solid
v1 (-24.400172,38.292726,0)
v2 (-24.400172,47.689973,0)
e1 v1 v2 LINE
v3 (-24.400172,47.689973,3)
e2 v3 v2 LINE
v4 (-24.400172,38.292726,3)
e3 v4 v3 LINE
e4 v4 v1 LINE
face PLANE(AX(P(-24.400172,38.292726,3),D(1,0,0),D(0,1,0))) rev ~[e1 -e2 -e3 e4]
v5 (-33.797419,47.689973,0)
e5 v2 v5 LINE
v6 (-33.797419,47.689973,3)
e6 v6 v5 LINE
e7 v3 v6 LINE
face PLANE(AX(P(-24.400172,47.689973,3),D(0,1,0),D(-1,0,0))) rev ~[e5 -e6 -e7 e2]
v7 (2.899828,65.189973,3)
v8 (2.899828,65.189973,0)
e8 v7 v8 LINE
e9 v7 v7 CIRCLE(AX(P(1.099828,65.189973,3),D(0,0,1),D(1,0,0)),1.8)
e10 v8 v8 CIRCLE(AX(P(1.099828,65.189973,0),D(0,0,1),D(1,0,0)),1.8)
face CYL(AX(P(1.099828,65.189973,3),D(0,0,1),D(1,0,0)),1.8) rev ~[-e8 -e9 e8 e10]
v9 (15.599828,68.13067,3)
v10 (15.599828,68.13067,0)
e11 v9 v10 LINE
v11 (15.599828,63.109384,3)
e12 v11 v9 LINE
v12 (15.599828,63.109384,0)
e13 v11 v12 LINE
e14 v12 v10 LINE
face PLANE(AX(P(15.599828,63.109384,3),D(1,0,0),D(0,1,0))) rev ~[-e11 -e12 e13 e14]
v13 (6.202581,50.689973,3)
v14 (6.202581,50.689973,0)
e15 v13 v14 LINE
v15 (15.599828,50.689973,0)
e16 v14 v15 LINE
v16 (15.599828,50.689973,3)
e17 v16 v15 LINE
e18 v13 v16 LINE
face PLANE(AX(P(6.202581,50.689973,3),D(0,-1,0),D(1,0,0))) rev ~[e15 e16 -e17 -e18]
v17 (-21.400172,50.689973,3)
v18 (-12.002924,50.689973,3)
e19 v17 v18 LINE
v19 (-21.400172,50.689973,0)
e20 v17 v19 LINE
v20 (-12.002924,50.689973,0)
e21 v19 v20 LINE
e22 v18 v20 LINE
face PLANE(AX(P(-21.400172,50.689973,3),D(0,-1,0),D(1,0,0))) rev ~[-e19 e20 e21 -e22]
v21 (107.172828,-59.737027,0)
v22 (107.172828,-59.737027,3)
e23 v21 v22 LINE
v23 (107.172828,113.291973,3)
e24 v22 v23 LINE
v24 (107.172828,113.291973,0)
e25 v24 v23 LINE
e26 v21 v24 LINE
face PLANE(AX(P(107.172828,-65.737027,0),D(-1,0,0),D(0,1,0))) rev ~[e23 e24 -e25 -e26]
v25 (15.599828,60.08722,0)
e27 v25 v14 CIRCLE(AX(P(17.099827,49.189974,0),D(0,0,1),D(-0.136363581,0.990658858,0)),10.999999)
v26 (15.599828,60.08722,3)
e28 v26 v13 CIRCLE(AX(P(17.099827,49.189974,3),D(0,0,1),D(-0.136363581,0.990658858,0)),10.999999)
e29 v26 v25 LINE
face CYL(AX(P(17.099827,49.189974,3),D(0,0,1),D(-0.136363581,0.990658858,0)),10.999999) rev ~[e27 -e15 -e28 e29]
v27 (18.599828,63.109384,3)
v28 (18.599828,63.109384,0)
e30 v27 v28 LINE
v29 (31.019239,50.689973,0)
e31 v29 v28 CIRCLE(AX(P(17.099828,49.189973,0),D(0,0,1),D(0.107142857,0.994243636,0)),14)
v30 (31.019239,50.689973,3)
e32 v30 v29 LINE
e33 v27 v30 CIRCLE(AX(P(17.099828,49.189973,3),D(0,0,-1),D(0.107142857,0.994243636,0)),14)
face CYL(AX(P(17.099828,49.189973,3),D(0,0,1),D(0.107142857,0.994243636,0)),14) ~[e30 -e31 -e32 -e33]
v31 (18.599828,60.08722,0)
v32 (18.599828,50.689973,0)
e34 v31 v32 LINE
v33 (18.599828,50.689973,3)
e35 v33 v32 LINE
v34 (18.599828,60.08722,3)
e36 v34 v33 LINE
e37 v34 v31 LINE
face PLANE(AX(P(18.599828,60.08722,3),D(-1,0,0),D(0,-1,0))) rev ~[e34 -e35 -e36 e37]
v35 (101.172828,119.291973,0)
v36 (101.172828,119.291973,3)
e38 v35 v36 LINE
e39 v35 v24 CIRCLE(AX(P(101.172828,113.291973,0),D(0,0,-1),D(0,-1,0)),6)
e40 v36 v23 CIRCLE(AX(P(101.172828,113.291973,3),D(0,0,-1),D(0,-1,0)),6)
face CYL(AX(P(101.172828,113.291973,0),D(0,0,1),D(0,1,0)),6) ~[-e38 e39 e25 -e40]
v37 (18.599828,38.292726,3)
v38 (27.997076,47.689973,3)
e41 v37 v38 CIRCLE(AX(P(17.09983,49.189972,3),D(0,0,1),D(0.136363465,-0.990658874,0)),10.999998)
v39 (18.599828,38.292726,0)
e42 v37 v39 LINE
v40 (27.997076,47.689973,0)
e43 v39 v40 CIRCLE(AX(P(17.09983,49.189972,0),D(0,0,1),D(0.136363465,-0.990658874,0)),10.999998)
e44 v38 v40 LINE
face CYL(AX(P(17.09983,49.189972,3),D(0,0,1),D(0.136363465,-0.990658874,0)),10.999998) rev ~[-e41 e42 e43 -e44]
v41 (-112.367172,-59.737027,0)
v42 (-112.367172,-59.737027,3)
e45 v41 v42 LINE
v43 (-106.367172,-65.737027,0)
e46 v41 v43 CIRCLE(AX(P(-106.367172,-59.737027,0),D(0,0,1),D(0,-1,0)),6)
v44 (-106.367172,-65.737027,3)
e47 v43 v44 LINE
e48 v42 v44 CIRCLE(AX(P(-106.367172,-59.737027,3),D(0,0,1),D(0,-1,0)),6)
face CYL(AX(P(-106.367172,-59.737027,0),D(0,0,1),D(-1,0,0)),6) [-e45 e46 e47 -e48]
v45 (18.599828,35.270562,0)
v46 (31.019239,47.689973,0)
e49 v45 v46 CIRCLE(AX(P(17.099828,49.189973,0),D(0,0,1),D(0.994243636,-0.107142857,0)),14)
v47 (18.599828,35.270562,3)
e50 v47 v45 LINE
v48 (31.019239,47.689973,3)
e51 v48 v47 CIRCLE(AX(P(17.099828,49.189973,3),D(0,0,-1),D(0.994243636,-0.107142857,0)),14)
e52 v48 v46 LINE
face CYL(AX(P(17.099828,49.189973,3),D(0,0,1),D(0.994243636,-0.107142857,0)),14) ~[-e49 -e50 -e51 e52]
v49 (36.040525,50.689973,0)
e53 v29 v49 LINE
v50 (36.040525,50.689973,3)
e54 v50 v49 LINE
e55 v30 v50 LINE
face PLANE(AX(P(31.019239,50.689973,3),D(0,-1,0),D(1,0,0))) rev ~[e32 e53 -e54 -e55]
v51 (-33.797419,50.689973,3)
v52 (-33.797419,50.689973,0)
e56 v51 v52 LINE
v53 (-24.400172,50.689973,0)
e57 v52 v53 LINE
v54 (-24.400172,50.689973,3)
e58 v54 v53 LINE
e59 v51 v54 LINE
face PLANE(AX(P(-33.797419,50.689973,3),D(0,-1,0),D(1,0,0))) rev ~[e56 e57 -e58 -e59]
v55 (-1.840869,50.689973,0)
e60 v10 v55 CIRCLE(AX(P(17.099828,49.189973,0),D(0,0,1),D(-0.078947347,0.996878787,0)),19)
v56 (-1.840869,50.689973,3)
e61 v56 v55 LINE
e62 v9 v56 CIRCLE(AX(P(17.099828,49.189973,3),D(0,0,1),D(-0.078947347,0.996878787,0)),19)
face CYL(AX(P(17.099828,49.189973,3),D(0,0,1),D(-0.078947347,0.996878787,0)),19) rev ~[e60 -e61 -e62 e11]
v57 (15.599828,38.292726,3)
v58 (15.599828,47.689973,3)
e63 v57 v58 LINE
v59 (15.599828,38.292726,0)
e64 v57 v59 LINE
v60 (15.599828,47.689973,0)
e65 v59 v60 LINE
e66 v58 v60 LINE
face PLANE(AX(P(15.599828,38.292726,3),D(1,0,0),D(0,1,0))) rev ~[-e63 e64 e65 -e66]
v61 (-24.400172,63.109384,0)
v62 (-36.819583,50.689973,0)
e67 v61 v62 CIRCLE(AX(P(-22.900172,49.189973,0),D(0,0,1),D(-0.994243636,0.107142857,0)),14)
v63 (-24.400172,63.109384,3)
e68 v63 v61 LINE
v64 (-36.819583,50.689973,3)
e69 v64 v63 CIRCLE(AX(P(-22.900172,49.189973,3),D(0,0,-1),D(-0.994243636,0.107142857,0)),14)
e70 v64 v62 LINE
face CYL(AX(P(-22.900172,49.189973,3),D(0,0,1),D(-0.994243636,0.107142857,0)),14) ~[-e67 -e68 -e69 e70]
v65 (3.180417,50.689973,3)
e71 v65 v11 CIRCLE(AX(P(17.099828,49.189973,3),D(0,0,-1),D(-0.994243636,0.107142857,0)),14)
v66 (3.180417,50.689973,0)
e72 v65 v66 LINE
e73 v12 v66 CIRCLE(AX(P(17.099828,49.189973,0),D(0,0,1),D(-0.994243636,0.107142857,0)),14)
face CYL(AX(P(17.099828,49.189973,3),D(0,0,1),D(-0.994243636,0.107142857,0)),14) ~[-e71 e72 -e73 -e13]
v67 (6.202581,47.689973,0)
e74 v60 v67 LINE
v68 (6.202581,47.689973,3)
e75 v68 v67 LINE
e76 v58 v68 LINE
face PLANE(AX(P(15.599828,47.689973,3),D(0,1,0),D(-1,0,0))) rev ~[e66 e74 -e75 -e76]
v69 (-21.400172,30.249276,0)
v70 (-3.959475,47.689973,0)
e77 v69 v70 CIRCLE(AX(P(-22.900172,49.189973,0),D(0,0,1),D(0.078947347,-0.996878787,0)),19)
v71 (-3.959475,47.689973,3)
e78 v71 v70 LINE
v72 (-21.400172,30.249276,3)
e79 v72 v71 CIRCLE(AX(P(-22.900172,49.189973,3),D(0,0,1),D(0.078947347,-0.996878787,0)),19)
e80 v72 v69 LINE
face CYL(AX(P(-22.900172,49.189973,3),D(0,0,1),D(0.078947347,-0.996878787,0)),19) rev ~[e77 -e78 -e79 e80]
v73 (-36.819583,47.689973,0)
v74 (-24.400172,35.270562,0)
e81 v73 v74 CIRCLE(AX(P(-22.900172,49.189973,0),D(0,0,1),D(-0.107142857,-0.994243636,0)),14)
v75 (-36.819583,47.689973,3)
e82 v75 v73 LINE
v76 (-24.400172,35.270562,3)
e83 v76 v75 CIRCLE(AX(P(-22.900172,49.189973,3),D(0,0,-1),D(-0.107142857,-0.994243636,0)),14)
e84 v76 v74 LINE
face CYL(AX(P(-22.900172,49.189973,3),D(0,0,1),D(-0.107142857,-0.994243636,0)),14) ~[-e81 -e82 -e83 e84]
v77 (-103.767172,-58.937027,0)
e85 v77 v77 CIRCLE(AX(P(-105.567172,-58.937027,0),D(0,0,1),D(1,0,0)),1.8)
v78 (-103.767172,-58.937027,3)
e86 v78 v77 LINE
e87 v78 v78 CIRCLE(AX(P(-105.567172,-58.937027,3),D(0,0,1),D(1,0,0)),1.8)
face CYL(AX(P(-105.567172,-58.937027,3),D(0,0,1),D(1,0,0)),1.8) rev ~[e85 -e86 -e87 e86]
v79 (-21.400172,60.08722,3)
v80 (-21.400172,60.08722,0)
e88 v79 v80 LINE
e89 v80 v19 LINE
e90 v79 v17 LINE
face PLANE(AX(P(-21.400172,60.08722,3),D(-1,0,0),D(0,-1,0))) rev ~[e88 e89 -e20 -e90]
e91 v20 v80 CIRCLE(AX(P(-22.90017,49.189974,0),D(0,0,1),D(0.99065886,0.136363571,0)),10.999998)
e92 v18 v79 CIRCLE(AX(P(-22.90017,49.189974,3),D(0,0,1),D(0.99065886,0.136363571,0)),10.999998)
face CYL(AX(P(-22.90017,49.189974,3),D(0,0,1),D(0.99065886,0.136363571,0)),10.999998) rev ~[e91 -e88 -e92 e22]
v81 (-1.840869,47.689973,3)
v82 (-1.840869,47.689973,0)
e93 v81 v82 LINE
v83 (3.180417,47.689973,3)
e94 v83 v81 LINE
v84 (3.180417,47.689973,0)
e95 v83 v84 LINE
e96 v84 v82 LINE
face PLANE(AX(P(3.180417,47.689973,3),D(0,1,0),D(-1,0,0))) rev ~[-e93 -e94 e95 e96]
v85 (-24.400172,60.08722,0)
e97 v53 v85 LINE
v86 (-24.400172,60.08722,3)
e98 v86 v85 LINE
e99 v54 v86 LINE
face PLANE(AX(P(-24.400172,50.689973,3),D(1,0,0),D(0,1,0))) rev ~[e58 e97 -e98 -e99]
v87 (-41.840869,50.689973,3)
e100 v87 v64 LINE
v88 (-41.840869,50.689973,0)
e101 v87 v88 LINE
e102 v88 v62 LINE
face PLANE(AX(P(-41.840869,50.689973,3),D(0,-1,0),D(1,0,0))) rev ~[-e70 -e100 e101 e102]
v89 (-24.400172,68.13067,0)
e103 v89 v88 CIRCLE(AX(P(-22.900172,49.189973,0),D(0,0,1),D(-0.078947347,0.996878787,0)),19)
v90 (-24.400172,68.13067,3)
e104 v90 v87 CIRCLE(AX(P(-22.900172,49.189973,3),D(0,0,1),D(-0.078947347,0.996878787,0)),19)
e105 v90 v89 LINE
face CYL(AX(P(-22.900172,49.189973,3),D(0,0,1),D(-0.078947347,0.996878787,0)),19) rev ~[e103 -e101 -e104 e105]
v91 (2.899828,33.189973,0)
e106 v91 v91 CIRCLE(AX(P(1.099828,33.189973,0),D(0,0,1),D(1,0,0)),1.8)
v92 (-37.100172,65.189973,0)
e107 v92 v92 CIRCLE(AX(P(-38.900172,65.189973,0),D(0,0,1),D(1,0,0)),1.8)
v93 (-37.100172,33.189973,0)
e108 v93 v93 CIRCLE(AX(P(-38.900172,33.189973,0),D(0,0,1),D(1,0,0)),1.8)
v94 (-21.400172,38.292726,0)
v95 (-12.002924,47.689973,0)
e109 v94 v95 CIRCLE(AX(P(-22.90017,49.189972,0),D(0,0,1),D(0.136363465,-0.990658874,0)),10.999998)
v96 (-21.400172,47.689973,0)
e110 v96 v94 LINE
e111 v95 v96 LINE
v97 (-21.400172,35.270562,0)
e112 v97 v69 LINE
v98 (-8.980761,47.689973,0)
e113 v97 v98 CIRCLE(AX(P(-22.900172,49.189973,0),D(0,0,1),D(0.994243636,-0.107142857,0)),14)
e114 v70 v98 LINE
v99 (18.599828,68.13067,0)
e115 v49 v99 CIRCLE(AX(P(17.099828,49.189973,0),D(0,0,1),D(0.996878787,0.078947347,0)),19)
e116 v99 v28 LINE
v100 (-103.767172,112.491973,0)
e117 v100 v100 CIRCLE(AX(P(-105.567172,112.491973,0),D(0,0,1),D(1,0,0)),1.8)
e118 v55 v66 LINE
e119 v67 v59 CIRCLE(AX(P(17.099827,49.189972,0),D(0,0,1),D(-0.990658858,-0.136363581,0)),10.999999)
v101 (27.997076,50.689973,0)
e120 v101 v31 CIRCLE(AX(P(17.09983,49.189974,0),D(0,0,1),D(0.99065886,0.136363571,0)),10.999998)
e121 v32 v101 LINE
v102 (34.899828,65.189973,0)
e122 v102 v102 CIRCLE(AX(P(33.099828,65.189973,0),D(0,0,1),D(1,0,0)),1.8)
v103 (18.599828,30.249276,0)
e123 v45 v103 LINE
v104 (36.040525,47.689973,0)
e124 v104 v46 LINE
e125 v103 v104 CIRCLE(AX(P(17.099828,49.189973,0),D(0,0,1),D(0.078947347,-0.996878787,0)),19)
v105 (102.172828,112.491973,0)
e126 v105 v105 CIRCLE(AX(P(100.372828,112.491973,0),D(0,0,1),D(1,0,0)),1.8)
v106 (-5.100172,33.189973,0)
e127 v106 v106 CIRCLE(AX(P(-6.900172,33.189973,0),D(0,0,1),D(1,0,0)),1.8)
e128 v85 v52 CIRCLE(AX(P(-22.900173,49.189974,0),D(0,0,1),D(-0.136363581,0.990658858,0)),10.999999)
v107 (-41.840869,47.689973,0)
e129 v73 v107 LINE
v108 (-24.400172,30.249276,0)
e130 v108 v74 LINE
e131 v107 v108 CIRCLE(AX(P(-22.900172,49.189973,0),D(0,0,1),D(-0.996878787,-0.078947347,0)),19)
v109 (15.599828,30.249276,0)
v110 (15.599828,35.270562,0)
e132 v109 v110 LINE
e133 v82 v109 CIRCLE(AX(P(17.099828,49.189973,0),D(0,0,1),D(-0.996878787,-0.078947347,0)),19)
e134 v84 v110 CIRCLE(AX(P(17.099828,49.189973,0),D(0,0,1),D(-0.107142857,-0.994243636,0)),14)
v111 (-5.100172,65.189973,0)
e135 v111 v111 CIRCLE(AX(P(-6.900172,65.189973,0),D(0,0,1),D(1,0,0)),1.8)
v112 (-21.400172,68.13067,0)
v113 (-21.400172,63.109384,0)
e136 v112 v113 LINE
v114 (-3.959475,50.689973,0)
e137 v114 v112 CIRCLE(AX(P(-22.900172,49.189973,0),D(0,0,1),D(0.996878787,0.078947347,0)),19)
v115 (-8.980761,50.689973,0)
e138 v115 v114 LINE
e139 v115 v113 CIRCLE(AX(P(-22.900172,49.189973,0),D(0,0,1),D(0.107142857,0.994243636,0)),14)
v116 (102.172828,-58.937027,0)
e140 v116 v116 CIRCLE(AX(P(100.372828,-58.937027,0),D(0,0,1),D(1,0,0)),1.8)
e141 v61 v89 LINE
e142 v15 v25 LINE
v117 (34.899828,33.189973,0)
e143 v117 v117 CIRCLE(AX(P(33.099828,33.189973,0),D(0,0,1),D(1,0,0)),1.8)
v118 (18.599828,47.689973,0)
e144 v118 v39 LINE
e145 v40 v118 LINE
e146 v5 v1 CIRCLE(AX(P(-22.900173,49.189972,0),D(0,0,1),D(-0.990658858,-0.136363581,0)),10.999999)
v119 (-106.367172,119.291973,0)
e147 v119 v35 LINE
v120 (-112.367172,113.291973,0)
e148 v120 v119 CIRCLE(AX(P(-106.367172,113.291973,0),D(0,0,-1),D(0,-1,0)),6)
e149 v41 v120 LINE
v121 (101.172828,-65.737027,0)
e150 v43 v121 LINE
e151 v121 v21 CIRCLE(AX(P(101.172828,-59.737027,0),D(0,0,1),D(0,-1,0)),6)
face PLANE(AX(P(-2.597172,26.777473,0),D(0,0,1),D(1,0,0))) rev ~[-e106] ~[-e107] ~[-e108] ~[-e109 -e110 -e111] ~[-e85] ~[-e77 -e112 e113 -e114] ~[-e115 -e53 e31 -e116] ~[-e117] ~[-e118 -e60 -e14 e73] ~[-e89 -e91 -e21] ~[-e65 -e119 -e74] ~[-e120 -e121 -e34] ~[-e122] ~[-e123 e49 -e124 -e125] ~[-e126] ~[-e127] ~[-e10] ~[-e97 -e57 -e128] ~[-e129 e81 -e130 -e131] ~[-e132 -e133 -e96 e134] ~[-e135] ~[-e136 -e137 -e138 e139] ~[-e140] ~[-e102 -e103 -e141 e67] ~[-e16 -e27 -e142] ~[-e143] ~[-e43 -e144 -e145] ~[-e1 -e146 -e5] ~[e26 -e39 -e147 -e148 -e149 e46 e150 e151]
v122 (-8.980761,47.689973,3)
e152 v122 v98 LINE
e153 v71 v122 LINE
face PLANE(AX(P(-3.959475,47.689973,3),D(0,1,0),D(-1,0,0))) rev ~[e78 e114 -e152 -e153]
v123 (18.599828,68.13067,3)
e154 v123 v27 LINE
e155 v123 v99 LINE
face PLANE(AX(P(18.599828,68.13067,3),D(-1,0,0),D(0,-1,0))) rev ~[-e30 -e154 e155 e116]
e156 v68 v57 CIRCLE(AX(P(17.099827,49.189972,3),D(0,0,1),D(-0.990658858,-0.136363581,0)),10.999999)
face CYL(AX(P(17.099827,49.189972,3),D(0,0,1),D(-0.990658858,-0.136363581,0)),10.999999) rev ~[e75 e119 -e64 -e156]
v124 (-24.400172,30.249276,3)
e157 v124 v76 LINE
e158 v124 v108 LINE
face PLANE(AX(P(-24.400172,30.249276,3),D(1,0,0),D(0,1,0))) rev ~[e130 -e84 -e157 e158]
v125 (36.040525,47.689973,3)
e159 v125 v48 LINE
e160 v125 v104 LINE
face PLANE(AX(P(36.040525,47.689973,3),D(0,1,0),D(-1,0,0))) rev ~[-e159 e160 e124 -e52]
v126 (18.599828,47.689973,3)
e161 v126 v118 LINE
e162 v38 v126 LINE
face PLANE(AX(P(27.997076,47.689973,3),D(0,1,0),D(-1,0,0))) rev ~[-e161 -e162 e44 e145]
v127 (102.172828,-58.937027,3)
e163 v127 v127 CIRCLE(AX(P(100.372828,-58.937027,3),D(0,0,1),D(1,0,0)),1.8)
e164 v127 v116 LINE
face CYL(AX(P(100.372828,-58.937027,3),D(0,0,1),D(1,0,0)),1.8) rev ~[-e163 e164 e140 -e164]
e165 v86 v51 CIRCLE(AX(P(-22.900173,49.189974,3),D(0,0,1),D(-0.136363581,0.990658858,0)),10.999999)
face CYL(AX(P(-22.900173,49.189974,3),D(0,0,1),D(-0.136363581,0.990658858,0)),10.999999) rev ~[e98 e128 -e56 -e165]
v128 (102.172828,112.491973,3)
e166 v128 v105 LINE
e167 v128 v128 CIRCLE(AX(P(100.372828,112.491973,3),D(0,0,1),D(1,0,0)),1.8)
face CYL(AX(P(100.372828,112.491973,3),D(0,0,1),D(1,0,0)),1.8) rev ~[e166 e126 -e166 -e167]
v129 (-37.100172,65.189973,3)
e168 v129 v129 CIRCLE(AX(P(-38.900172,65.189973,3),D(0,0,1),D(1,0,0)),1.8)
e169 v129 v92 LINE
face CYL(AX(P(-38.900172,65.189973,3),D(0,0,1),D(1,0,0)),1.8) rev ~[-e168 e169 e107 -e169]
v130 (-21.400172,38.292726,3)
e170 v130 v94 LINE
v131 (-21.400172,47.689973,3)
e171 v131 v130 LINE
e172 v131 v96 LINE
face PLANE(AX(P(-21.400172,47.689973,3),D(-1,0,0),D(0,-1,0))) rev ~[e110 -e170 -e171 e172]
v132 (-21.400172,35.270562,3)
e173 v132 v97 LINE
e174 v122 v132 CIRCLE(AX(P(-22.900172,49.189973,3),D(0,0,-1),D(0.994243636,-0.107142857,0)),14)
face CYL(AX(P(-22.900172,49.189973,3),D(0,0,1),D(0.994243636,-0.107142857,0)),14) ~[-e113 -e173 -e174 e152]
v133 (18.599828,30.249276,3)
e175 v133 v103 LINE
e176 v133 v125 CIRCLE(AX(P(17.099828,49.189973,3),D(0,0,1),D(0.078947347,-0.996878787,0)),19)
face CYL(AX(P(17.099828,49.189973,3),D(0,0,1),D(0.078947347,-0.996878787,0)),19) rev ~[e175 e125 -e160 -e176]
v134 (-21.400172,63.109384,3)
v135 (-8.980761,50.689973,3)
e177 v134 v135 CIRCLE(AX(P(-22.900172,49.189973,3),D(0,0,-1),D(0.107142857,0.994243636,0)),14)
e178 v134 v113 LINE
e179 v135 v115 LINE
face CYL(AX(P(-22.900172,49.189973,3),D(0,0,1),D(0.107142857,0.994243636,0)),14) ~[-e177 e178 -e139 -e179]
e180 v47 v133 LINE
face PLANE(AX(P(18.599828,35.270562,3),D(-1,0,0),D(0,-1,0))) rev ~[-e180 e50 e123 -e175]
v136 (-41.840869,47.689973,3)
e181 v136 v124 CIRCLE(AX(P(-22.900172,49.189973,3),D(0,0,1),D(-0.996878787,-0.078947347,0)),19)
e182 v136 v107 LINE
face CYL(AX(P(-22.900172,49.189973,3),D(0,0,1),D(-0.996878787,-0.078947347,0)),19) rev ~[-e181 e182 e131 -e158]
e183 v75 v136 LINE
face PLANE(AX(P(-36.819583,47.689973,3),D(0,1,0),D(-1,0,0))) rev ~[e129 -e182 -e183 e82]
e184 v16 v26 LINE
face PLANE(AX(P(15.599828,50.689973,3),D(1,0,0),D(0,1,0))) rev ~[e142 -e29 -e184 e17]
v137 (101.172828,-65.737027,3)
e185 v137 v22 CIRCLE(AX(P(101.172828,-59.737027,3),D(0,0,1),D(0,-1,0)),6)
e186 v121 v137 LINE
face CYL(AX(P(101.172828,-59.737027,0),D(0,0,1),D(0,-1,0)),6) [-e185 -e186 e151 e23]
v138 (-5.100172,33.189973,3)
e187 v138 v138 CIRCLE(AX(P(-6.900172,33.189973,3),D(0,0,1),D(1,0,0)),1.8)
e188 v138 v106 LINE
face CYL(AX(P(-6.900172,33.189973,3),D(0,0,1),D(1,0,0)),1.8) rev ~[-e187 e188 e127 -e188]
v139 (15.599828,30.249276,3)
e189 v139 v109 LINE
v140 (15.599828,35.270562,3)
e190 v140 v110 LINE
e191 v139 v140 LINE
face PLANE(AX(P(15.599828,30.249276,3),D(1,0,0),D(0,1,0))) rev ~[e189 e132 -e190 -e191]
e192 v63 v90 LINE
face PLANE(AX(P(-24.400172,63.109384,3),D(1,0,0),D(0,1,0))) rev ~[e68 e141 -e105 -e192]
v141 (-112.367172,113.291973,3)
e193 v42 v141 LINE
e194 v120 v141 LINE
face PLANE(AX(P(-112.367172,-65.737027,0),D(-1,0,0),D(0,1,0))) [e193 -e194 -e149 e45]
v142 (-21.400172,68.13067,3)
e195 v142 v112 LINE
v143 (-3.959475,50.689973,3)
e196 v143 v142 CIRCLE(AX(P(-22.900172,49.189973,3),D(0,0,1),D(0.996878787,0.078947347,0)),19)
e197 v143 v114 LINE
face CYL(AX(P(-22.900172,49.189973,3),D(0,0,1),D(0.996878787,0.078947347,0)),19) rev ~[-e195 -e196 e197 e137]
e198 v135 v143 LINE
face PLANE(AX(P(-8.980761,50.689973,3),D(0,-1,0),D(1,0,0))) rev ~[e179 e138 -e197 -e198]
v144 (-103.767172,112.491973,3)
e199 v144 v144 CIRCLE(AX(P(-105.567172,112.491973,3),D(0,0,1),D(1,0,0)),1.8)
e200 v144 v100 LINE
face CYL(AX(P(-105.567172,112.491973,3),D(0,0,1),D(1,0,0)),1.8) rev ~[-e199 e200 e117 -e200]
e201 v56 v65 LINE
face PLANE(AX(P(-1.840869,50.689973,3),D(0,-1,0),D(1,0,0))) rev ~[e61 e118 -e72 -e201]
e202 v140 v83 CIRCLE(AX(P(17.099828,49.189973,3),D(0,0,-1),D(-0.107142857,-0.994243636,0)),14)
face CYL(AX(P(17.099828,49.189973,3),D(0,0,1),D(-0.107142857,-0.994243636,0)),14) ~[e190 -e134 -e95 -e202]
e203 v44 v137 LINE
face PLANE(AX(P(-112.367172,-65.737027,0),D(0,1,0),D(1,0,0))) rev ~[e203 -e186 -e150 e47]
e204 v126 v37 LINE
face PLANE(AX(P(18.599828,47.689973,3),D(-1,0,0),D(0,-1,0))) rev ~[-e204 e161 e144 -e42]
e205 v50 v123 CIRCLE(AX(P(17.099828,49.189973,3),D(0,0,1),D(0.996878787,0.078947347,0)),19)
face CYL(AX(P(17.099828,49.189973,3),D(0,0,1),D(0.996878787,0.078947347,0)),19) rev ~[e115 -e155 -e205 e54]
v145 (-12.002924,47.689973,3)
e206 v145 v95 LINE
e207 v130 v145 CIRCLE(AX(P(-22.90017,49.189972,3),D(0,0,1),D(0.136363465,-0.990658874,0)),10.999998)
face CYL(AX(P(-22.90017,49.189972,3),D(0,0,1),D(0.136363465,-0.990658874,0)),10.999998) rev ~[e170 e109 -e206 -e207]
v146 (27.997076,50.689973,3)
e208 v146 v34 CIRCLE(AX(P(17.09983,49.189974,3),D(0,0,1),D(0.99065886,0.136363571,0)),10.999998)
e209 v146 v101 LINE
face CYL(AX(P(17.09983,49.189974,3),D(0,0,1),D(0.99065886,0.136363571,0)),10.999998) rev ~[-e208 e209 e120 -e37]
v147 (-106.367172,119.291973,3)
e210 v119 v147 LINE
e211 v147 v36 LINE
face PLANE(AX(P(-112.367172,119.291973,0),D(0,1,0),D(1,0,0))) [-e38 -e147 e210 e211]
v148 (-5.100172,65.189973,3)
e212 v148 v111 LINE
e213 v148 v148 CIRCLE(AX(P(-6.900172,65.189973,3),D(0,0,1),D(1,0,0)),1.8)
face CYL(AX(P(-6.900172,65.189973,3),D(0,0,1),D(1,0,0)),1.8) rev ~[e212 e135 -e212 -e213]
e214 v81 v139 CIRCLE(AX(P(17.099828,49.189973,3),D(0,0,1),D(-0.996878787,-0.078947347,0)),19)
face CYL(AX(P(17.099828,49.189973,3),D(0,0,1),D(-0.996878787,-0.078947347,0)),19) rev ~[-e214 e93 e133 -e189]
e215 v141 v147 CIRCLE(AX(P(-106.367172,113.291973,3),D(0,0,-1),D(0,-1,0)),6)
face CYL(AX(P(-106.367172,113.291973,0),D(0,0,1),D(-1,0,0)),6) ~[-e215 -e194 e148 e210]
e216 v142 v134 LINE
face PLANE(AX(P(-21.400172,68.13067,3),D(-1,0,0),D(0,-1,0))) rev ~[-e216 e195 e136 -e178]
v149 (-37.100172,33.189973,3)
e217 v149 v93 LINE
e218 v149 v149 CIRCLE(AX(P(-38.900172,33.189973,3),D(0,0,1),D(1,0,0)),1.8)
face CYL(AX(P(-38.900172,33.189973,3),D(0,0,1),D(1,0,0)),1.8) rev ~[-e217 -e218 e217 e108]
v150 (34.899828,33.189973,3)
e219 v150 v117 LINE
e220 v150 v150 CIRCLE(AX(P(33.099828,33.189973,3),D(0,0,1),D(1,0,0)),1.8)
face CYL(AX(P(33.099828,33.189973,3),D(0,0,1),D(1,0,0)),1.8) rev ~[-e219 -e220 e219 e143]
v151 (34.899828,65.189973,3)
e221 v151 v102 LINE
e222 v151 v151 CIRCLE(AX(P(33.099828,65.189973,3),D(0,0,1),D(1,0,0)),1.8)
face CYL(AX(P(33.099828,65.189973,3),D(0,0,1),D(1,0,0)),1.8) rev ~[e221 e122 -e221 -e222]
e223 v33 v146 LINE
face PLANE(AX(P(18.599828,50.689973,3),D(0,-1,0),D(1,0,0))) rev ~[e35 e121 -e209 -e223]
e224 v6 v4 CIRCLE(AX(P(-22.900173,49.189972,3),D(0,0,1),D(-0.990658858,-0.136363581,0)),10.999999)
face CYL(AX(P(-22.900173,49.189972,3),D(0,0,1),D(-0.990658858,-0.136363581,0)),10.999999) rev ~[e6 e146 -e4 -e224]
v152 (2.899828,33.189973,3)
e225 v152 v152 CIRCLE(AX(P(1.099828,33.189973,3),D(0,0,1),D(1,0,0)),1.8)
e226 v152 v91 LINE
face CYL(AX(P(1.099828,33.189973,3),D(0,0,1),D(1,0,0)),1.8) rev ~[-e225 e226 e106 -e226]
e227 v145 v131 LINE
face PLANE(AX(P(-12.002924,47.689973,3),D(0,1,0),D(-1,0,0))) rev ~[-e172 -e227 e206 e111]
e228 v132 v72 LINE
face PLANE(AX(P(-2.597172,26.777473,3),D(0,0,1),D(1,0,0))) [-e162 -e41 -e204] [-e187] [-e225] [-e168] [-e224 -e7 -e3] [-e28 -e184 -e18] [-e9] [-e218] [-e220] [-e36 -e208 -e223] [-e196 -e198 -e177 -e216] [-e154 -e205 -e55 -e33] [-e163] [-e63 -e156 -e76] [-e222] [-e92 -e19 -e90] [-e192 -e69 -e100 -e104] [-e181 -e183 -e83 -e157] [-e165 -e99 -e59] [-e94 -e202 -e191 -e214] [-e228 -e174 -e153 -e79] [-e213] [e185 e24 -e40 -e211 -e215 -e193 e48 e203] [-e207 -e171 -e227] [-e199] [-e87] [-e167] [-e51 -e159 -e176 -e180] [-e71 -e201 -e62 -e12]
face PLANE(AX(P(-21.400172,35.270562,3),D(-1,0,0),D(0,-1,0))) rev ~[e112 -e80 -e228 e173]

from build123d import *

# Parameters (mm, degrees)
F0_W     = 219.54
F0_H     = 185.029
F1_DEPTH = 3
F2_R     = 1.8
F3_DEPTH = 25
F4_R     = 6


with BuildPart() as f1:
    # F0 (on Top) → F1 (new body)
    with BuildSketch(Plane.XY):
        with Locations((-2.597172, 26.777473)):
            Rectangle(F0_W, F0_H)
    extrude(amount=F1_DEPTH)

    # F2 (on face) → F3 (cut)
    with BuildSketch(Plane.XY.offset(3)):
        with BuildLine():
            Line((-24.400172, 63.109384), (-24.400172, 68.13067))
            ThreePointArc((-24.400172, 68.13067), (-36.335201, 62.625002), (-41.840869, 50.689973))
            Line((-41.840869, 50.689973), (-36.819583, 50.689973))
            ThreePointArc((-36.819583, 50.689973), (-32.799667, 59.089468), (-24.400172, 63.109384))
        make_face()
        with BuildLine():
            ThreePointArc((-41.840869, 47.689973), (-36.335201, 35.754944), (-24.400172, 30.249276))
            Line((-24.400172, 30.249276), (-24.400172, 35.270562))
            ThreePointArc((-24.400172, 35.270562), (-32.799667, 39.290478), (-36.819583, 47.689973))
            Line((-36.819583, 47.689973), (-41.840869, 47.689973))
        make_face()
        with BuildLine():
            ThreePointArc((-21.400172, 30.249276), (-9.465143, 35.754944), (-3.959475, 47.689973))
            Line((-3.959475, 47.689973), (-8.980761, 47.689973))
            ThreePointArc((-8.980761, 47.689973), (-13.000677, 39.290478), (-21.400172, 35.270562))
            Line((-21.400172, 35.270562), (-21.400172, 30.249276))
        make_face()
        with BuildLine():
            Line((-12.002924, 47.689973), (-21.400172, 47.689973))
            Line((-21.400172, 47.689973), (-21.400172, 38.292726))
            ThreePointArc((-21.400172, 38.292726), (-15.121997, 41.411798), (-12.002924, 47.689973))
        make_face()
        with BuildLine():
            Line((-24.400172, 47.689973), (-33.797419, 47.689973))
            ThreePointArc((-33.797419, 47.689973), (-30.678346, 41.411798), (-24.400172, 38.292726))
            Line((-24.400172, 38.292726), (-24.400172, 47.689973))
        make_face()
        with BuildLine():
            Line((-33.797419, 50.689973), (-24.400172, 50.689973))
            Line((-24.400172, 50.689973), (-24.400172, 60.08722))
            ThreePointArc((-24.400172, 60.08722), (-30.678346, 56.968148), (-33.797419, 50.689973))
        make_face()
        with BuildLine():
            Line((-8.980761, 50.689973), (-3.959475, 50.689973))
            ThreePointArc((-3.959475, 50.689973), (-9.465143, 62.625002), (-21.400172, 68.13067))
            Line((-21.400172, 68.13067), (-21.400172, 63.109384))
            ThreePointArc((-21.400172, 63.109384), (-13.000677, 59.089468), (-8.980761, 50.689973))
        make_face()
        with BuildLine():
            Line((15.599828, 63.109384), (15.599828, 68.13067))
            ThreePointArc((15.599828, 68.13067), (3.664799, 62.625002), (-1.840869, 50.689973))
            Line((-1.840869, 50.689973), (3.180417, 50.689973))
            ThreePointArc((3.180417, 50.689973), (7.200333, 59.089468), (15.599828, 63.109384))
        make_face()
        with BuildLine():
            Line((31.019239, 50.689973), (36.040525, 50.689973))
            ThreePointArc((36.040525, 50.689973), (30.534857, 62.625002), (18.599828, 68.13067))
            Line((18.599828, 68.13067), (18.599828, 63.109384))
            ThreePointArc((18.599828, 63.109384), (26.999323, 59.089468), (31.019239, 50.689973))
        make_face()
        with BuildLine():
            Line((18.599828, 50.689973), (27.997076, 50.689973))
            ThreePointArc((27.997076, 50.689973), (24.878003, 56.968148), (18.599828, 60.08722))
            Line((18.599828, 60.08722), (18.599828, 50.689973))
        make_face()
        with BuildLine():
            Line((6.202581, 50.689973), (15.599828, 50.689973))
            Line((15.599828, 50.689973), (15.599828, 60.08722))
            ThreePointArc((15.599828, 60.08722), (9.321654, 56.968148), (6.202581, 50.689973))
        make_face()
        with BuildLine():
            Line((15.599828, 47.689973), (6.202581, 47.689973))
            ThreePointArc((6.202581, 47.689973), (9.321654, 41.411798), (15.599828, 38.292726))
            Line((15.599828, 38.292726), (15.599828, 47.689973))
        make_face()
        with BuildLine():
            Line((27.997076, 47.689973), (18.599828, 47.689973))
            Line((18.599828, 47.689973), (18.599828, 38.292726))
            ThreePointArc((18.599828, 38.292726), (24.878003, 41.411798), (27.997076, 47.689973))
        make_face()
        with BuildLine():
            ThreePointArc((-1.840869, 47.689973), (3.664799, 35.754944), (15.599828, 30.249276))
            Line((15.599828, 30.249276), (15.599828, 35.270562))
            ThreePointArc((15.599828, 35.270562), (7.200333, 39.290478), (3.180417, 47.689973))
            Line((3.180417, 47.689973), (-1.840869, 47.689973))
        make_face()
        with BuildLine():
            ThreePointArc((18.599828, 30.249276), (30.534857, 35.754944), (36.040525, 47.689973))
            Line((36.040525, 47.689973), (31.019239, 47.689973))
            ThreePointArc((31.019239, 47.689973), (26.999323, 39.290478), (18.599828, 35.270562))
            Line((18.599828, 35.270562), (18.599828, 30.249276))
        make_face()
        with BuildLine():
            Line((-21.400172, 60.08722), (-21.400172, 50.689973))
            Line((-21.400172, 50.689973), (-12.002924, 50.689973))
            ThreePointArc((-12.002924, 50.689973), (-15.121997, 56.968148), (-21.400172, 60.08722))
        make_face()
        with Locations((-38.900172, 65.189973)):
            Circle(F2_R)
        with Locations((-6.900172, 65.189973)):
            Circle(F2_R)
        with Locations((1.099828, 65.189973)):
            Circle(F2_R)
        with Locations((33.099828, 65.189973)):
            Circle(F2_R)
        with Locations((33.099828, 33.189973)):
            Circle(F2_R)
        with Locations((1.099828, 33.189973)):
            Circle(F2_R)
        with Locations((-6.900172, 33.189973)):
            Circle(F2_R)
        with Locations((-38.900172, 33.189973)):
            Circle(F2_R)
        with Locations((-105.567172, -58.937027)):
            Circle(F2_R)
        with Locations((100.372828, -58.937027)):
            Circle(F2_R)
        with Locations((100.372828, 112.491973)):
            Circle(F2_R)
        with Locations((-105.567172, 112.491973)):
            Circle(F2_R)
    extrude(amount=-F3_DEPTH, mode=Mode.SUBTRACT)

    # F4
    f4_edges = [f1.edges().sort_by_distance(p)[0] for p in [
        (-112.367172, 119.291973, 1.5),
        (-112.367172, -65.737027, 1.5),
        (107.172828, -65.737027, 1.5),
        (107.172828, 119.291973, 1.5),
    ]]
    fillet(f4_edges, radius=F4_R)


solid = f1.part
